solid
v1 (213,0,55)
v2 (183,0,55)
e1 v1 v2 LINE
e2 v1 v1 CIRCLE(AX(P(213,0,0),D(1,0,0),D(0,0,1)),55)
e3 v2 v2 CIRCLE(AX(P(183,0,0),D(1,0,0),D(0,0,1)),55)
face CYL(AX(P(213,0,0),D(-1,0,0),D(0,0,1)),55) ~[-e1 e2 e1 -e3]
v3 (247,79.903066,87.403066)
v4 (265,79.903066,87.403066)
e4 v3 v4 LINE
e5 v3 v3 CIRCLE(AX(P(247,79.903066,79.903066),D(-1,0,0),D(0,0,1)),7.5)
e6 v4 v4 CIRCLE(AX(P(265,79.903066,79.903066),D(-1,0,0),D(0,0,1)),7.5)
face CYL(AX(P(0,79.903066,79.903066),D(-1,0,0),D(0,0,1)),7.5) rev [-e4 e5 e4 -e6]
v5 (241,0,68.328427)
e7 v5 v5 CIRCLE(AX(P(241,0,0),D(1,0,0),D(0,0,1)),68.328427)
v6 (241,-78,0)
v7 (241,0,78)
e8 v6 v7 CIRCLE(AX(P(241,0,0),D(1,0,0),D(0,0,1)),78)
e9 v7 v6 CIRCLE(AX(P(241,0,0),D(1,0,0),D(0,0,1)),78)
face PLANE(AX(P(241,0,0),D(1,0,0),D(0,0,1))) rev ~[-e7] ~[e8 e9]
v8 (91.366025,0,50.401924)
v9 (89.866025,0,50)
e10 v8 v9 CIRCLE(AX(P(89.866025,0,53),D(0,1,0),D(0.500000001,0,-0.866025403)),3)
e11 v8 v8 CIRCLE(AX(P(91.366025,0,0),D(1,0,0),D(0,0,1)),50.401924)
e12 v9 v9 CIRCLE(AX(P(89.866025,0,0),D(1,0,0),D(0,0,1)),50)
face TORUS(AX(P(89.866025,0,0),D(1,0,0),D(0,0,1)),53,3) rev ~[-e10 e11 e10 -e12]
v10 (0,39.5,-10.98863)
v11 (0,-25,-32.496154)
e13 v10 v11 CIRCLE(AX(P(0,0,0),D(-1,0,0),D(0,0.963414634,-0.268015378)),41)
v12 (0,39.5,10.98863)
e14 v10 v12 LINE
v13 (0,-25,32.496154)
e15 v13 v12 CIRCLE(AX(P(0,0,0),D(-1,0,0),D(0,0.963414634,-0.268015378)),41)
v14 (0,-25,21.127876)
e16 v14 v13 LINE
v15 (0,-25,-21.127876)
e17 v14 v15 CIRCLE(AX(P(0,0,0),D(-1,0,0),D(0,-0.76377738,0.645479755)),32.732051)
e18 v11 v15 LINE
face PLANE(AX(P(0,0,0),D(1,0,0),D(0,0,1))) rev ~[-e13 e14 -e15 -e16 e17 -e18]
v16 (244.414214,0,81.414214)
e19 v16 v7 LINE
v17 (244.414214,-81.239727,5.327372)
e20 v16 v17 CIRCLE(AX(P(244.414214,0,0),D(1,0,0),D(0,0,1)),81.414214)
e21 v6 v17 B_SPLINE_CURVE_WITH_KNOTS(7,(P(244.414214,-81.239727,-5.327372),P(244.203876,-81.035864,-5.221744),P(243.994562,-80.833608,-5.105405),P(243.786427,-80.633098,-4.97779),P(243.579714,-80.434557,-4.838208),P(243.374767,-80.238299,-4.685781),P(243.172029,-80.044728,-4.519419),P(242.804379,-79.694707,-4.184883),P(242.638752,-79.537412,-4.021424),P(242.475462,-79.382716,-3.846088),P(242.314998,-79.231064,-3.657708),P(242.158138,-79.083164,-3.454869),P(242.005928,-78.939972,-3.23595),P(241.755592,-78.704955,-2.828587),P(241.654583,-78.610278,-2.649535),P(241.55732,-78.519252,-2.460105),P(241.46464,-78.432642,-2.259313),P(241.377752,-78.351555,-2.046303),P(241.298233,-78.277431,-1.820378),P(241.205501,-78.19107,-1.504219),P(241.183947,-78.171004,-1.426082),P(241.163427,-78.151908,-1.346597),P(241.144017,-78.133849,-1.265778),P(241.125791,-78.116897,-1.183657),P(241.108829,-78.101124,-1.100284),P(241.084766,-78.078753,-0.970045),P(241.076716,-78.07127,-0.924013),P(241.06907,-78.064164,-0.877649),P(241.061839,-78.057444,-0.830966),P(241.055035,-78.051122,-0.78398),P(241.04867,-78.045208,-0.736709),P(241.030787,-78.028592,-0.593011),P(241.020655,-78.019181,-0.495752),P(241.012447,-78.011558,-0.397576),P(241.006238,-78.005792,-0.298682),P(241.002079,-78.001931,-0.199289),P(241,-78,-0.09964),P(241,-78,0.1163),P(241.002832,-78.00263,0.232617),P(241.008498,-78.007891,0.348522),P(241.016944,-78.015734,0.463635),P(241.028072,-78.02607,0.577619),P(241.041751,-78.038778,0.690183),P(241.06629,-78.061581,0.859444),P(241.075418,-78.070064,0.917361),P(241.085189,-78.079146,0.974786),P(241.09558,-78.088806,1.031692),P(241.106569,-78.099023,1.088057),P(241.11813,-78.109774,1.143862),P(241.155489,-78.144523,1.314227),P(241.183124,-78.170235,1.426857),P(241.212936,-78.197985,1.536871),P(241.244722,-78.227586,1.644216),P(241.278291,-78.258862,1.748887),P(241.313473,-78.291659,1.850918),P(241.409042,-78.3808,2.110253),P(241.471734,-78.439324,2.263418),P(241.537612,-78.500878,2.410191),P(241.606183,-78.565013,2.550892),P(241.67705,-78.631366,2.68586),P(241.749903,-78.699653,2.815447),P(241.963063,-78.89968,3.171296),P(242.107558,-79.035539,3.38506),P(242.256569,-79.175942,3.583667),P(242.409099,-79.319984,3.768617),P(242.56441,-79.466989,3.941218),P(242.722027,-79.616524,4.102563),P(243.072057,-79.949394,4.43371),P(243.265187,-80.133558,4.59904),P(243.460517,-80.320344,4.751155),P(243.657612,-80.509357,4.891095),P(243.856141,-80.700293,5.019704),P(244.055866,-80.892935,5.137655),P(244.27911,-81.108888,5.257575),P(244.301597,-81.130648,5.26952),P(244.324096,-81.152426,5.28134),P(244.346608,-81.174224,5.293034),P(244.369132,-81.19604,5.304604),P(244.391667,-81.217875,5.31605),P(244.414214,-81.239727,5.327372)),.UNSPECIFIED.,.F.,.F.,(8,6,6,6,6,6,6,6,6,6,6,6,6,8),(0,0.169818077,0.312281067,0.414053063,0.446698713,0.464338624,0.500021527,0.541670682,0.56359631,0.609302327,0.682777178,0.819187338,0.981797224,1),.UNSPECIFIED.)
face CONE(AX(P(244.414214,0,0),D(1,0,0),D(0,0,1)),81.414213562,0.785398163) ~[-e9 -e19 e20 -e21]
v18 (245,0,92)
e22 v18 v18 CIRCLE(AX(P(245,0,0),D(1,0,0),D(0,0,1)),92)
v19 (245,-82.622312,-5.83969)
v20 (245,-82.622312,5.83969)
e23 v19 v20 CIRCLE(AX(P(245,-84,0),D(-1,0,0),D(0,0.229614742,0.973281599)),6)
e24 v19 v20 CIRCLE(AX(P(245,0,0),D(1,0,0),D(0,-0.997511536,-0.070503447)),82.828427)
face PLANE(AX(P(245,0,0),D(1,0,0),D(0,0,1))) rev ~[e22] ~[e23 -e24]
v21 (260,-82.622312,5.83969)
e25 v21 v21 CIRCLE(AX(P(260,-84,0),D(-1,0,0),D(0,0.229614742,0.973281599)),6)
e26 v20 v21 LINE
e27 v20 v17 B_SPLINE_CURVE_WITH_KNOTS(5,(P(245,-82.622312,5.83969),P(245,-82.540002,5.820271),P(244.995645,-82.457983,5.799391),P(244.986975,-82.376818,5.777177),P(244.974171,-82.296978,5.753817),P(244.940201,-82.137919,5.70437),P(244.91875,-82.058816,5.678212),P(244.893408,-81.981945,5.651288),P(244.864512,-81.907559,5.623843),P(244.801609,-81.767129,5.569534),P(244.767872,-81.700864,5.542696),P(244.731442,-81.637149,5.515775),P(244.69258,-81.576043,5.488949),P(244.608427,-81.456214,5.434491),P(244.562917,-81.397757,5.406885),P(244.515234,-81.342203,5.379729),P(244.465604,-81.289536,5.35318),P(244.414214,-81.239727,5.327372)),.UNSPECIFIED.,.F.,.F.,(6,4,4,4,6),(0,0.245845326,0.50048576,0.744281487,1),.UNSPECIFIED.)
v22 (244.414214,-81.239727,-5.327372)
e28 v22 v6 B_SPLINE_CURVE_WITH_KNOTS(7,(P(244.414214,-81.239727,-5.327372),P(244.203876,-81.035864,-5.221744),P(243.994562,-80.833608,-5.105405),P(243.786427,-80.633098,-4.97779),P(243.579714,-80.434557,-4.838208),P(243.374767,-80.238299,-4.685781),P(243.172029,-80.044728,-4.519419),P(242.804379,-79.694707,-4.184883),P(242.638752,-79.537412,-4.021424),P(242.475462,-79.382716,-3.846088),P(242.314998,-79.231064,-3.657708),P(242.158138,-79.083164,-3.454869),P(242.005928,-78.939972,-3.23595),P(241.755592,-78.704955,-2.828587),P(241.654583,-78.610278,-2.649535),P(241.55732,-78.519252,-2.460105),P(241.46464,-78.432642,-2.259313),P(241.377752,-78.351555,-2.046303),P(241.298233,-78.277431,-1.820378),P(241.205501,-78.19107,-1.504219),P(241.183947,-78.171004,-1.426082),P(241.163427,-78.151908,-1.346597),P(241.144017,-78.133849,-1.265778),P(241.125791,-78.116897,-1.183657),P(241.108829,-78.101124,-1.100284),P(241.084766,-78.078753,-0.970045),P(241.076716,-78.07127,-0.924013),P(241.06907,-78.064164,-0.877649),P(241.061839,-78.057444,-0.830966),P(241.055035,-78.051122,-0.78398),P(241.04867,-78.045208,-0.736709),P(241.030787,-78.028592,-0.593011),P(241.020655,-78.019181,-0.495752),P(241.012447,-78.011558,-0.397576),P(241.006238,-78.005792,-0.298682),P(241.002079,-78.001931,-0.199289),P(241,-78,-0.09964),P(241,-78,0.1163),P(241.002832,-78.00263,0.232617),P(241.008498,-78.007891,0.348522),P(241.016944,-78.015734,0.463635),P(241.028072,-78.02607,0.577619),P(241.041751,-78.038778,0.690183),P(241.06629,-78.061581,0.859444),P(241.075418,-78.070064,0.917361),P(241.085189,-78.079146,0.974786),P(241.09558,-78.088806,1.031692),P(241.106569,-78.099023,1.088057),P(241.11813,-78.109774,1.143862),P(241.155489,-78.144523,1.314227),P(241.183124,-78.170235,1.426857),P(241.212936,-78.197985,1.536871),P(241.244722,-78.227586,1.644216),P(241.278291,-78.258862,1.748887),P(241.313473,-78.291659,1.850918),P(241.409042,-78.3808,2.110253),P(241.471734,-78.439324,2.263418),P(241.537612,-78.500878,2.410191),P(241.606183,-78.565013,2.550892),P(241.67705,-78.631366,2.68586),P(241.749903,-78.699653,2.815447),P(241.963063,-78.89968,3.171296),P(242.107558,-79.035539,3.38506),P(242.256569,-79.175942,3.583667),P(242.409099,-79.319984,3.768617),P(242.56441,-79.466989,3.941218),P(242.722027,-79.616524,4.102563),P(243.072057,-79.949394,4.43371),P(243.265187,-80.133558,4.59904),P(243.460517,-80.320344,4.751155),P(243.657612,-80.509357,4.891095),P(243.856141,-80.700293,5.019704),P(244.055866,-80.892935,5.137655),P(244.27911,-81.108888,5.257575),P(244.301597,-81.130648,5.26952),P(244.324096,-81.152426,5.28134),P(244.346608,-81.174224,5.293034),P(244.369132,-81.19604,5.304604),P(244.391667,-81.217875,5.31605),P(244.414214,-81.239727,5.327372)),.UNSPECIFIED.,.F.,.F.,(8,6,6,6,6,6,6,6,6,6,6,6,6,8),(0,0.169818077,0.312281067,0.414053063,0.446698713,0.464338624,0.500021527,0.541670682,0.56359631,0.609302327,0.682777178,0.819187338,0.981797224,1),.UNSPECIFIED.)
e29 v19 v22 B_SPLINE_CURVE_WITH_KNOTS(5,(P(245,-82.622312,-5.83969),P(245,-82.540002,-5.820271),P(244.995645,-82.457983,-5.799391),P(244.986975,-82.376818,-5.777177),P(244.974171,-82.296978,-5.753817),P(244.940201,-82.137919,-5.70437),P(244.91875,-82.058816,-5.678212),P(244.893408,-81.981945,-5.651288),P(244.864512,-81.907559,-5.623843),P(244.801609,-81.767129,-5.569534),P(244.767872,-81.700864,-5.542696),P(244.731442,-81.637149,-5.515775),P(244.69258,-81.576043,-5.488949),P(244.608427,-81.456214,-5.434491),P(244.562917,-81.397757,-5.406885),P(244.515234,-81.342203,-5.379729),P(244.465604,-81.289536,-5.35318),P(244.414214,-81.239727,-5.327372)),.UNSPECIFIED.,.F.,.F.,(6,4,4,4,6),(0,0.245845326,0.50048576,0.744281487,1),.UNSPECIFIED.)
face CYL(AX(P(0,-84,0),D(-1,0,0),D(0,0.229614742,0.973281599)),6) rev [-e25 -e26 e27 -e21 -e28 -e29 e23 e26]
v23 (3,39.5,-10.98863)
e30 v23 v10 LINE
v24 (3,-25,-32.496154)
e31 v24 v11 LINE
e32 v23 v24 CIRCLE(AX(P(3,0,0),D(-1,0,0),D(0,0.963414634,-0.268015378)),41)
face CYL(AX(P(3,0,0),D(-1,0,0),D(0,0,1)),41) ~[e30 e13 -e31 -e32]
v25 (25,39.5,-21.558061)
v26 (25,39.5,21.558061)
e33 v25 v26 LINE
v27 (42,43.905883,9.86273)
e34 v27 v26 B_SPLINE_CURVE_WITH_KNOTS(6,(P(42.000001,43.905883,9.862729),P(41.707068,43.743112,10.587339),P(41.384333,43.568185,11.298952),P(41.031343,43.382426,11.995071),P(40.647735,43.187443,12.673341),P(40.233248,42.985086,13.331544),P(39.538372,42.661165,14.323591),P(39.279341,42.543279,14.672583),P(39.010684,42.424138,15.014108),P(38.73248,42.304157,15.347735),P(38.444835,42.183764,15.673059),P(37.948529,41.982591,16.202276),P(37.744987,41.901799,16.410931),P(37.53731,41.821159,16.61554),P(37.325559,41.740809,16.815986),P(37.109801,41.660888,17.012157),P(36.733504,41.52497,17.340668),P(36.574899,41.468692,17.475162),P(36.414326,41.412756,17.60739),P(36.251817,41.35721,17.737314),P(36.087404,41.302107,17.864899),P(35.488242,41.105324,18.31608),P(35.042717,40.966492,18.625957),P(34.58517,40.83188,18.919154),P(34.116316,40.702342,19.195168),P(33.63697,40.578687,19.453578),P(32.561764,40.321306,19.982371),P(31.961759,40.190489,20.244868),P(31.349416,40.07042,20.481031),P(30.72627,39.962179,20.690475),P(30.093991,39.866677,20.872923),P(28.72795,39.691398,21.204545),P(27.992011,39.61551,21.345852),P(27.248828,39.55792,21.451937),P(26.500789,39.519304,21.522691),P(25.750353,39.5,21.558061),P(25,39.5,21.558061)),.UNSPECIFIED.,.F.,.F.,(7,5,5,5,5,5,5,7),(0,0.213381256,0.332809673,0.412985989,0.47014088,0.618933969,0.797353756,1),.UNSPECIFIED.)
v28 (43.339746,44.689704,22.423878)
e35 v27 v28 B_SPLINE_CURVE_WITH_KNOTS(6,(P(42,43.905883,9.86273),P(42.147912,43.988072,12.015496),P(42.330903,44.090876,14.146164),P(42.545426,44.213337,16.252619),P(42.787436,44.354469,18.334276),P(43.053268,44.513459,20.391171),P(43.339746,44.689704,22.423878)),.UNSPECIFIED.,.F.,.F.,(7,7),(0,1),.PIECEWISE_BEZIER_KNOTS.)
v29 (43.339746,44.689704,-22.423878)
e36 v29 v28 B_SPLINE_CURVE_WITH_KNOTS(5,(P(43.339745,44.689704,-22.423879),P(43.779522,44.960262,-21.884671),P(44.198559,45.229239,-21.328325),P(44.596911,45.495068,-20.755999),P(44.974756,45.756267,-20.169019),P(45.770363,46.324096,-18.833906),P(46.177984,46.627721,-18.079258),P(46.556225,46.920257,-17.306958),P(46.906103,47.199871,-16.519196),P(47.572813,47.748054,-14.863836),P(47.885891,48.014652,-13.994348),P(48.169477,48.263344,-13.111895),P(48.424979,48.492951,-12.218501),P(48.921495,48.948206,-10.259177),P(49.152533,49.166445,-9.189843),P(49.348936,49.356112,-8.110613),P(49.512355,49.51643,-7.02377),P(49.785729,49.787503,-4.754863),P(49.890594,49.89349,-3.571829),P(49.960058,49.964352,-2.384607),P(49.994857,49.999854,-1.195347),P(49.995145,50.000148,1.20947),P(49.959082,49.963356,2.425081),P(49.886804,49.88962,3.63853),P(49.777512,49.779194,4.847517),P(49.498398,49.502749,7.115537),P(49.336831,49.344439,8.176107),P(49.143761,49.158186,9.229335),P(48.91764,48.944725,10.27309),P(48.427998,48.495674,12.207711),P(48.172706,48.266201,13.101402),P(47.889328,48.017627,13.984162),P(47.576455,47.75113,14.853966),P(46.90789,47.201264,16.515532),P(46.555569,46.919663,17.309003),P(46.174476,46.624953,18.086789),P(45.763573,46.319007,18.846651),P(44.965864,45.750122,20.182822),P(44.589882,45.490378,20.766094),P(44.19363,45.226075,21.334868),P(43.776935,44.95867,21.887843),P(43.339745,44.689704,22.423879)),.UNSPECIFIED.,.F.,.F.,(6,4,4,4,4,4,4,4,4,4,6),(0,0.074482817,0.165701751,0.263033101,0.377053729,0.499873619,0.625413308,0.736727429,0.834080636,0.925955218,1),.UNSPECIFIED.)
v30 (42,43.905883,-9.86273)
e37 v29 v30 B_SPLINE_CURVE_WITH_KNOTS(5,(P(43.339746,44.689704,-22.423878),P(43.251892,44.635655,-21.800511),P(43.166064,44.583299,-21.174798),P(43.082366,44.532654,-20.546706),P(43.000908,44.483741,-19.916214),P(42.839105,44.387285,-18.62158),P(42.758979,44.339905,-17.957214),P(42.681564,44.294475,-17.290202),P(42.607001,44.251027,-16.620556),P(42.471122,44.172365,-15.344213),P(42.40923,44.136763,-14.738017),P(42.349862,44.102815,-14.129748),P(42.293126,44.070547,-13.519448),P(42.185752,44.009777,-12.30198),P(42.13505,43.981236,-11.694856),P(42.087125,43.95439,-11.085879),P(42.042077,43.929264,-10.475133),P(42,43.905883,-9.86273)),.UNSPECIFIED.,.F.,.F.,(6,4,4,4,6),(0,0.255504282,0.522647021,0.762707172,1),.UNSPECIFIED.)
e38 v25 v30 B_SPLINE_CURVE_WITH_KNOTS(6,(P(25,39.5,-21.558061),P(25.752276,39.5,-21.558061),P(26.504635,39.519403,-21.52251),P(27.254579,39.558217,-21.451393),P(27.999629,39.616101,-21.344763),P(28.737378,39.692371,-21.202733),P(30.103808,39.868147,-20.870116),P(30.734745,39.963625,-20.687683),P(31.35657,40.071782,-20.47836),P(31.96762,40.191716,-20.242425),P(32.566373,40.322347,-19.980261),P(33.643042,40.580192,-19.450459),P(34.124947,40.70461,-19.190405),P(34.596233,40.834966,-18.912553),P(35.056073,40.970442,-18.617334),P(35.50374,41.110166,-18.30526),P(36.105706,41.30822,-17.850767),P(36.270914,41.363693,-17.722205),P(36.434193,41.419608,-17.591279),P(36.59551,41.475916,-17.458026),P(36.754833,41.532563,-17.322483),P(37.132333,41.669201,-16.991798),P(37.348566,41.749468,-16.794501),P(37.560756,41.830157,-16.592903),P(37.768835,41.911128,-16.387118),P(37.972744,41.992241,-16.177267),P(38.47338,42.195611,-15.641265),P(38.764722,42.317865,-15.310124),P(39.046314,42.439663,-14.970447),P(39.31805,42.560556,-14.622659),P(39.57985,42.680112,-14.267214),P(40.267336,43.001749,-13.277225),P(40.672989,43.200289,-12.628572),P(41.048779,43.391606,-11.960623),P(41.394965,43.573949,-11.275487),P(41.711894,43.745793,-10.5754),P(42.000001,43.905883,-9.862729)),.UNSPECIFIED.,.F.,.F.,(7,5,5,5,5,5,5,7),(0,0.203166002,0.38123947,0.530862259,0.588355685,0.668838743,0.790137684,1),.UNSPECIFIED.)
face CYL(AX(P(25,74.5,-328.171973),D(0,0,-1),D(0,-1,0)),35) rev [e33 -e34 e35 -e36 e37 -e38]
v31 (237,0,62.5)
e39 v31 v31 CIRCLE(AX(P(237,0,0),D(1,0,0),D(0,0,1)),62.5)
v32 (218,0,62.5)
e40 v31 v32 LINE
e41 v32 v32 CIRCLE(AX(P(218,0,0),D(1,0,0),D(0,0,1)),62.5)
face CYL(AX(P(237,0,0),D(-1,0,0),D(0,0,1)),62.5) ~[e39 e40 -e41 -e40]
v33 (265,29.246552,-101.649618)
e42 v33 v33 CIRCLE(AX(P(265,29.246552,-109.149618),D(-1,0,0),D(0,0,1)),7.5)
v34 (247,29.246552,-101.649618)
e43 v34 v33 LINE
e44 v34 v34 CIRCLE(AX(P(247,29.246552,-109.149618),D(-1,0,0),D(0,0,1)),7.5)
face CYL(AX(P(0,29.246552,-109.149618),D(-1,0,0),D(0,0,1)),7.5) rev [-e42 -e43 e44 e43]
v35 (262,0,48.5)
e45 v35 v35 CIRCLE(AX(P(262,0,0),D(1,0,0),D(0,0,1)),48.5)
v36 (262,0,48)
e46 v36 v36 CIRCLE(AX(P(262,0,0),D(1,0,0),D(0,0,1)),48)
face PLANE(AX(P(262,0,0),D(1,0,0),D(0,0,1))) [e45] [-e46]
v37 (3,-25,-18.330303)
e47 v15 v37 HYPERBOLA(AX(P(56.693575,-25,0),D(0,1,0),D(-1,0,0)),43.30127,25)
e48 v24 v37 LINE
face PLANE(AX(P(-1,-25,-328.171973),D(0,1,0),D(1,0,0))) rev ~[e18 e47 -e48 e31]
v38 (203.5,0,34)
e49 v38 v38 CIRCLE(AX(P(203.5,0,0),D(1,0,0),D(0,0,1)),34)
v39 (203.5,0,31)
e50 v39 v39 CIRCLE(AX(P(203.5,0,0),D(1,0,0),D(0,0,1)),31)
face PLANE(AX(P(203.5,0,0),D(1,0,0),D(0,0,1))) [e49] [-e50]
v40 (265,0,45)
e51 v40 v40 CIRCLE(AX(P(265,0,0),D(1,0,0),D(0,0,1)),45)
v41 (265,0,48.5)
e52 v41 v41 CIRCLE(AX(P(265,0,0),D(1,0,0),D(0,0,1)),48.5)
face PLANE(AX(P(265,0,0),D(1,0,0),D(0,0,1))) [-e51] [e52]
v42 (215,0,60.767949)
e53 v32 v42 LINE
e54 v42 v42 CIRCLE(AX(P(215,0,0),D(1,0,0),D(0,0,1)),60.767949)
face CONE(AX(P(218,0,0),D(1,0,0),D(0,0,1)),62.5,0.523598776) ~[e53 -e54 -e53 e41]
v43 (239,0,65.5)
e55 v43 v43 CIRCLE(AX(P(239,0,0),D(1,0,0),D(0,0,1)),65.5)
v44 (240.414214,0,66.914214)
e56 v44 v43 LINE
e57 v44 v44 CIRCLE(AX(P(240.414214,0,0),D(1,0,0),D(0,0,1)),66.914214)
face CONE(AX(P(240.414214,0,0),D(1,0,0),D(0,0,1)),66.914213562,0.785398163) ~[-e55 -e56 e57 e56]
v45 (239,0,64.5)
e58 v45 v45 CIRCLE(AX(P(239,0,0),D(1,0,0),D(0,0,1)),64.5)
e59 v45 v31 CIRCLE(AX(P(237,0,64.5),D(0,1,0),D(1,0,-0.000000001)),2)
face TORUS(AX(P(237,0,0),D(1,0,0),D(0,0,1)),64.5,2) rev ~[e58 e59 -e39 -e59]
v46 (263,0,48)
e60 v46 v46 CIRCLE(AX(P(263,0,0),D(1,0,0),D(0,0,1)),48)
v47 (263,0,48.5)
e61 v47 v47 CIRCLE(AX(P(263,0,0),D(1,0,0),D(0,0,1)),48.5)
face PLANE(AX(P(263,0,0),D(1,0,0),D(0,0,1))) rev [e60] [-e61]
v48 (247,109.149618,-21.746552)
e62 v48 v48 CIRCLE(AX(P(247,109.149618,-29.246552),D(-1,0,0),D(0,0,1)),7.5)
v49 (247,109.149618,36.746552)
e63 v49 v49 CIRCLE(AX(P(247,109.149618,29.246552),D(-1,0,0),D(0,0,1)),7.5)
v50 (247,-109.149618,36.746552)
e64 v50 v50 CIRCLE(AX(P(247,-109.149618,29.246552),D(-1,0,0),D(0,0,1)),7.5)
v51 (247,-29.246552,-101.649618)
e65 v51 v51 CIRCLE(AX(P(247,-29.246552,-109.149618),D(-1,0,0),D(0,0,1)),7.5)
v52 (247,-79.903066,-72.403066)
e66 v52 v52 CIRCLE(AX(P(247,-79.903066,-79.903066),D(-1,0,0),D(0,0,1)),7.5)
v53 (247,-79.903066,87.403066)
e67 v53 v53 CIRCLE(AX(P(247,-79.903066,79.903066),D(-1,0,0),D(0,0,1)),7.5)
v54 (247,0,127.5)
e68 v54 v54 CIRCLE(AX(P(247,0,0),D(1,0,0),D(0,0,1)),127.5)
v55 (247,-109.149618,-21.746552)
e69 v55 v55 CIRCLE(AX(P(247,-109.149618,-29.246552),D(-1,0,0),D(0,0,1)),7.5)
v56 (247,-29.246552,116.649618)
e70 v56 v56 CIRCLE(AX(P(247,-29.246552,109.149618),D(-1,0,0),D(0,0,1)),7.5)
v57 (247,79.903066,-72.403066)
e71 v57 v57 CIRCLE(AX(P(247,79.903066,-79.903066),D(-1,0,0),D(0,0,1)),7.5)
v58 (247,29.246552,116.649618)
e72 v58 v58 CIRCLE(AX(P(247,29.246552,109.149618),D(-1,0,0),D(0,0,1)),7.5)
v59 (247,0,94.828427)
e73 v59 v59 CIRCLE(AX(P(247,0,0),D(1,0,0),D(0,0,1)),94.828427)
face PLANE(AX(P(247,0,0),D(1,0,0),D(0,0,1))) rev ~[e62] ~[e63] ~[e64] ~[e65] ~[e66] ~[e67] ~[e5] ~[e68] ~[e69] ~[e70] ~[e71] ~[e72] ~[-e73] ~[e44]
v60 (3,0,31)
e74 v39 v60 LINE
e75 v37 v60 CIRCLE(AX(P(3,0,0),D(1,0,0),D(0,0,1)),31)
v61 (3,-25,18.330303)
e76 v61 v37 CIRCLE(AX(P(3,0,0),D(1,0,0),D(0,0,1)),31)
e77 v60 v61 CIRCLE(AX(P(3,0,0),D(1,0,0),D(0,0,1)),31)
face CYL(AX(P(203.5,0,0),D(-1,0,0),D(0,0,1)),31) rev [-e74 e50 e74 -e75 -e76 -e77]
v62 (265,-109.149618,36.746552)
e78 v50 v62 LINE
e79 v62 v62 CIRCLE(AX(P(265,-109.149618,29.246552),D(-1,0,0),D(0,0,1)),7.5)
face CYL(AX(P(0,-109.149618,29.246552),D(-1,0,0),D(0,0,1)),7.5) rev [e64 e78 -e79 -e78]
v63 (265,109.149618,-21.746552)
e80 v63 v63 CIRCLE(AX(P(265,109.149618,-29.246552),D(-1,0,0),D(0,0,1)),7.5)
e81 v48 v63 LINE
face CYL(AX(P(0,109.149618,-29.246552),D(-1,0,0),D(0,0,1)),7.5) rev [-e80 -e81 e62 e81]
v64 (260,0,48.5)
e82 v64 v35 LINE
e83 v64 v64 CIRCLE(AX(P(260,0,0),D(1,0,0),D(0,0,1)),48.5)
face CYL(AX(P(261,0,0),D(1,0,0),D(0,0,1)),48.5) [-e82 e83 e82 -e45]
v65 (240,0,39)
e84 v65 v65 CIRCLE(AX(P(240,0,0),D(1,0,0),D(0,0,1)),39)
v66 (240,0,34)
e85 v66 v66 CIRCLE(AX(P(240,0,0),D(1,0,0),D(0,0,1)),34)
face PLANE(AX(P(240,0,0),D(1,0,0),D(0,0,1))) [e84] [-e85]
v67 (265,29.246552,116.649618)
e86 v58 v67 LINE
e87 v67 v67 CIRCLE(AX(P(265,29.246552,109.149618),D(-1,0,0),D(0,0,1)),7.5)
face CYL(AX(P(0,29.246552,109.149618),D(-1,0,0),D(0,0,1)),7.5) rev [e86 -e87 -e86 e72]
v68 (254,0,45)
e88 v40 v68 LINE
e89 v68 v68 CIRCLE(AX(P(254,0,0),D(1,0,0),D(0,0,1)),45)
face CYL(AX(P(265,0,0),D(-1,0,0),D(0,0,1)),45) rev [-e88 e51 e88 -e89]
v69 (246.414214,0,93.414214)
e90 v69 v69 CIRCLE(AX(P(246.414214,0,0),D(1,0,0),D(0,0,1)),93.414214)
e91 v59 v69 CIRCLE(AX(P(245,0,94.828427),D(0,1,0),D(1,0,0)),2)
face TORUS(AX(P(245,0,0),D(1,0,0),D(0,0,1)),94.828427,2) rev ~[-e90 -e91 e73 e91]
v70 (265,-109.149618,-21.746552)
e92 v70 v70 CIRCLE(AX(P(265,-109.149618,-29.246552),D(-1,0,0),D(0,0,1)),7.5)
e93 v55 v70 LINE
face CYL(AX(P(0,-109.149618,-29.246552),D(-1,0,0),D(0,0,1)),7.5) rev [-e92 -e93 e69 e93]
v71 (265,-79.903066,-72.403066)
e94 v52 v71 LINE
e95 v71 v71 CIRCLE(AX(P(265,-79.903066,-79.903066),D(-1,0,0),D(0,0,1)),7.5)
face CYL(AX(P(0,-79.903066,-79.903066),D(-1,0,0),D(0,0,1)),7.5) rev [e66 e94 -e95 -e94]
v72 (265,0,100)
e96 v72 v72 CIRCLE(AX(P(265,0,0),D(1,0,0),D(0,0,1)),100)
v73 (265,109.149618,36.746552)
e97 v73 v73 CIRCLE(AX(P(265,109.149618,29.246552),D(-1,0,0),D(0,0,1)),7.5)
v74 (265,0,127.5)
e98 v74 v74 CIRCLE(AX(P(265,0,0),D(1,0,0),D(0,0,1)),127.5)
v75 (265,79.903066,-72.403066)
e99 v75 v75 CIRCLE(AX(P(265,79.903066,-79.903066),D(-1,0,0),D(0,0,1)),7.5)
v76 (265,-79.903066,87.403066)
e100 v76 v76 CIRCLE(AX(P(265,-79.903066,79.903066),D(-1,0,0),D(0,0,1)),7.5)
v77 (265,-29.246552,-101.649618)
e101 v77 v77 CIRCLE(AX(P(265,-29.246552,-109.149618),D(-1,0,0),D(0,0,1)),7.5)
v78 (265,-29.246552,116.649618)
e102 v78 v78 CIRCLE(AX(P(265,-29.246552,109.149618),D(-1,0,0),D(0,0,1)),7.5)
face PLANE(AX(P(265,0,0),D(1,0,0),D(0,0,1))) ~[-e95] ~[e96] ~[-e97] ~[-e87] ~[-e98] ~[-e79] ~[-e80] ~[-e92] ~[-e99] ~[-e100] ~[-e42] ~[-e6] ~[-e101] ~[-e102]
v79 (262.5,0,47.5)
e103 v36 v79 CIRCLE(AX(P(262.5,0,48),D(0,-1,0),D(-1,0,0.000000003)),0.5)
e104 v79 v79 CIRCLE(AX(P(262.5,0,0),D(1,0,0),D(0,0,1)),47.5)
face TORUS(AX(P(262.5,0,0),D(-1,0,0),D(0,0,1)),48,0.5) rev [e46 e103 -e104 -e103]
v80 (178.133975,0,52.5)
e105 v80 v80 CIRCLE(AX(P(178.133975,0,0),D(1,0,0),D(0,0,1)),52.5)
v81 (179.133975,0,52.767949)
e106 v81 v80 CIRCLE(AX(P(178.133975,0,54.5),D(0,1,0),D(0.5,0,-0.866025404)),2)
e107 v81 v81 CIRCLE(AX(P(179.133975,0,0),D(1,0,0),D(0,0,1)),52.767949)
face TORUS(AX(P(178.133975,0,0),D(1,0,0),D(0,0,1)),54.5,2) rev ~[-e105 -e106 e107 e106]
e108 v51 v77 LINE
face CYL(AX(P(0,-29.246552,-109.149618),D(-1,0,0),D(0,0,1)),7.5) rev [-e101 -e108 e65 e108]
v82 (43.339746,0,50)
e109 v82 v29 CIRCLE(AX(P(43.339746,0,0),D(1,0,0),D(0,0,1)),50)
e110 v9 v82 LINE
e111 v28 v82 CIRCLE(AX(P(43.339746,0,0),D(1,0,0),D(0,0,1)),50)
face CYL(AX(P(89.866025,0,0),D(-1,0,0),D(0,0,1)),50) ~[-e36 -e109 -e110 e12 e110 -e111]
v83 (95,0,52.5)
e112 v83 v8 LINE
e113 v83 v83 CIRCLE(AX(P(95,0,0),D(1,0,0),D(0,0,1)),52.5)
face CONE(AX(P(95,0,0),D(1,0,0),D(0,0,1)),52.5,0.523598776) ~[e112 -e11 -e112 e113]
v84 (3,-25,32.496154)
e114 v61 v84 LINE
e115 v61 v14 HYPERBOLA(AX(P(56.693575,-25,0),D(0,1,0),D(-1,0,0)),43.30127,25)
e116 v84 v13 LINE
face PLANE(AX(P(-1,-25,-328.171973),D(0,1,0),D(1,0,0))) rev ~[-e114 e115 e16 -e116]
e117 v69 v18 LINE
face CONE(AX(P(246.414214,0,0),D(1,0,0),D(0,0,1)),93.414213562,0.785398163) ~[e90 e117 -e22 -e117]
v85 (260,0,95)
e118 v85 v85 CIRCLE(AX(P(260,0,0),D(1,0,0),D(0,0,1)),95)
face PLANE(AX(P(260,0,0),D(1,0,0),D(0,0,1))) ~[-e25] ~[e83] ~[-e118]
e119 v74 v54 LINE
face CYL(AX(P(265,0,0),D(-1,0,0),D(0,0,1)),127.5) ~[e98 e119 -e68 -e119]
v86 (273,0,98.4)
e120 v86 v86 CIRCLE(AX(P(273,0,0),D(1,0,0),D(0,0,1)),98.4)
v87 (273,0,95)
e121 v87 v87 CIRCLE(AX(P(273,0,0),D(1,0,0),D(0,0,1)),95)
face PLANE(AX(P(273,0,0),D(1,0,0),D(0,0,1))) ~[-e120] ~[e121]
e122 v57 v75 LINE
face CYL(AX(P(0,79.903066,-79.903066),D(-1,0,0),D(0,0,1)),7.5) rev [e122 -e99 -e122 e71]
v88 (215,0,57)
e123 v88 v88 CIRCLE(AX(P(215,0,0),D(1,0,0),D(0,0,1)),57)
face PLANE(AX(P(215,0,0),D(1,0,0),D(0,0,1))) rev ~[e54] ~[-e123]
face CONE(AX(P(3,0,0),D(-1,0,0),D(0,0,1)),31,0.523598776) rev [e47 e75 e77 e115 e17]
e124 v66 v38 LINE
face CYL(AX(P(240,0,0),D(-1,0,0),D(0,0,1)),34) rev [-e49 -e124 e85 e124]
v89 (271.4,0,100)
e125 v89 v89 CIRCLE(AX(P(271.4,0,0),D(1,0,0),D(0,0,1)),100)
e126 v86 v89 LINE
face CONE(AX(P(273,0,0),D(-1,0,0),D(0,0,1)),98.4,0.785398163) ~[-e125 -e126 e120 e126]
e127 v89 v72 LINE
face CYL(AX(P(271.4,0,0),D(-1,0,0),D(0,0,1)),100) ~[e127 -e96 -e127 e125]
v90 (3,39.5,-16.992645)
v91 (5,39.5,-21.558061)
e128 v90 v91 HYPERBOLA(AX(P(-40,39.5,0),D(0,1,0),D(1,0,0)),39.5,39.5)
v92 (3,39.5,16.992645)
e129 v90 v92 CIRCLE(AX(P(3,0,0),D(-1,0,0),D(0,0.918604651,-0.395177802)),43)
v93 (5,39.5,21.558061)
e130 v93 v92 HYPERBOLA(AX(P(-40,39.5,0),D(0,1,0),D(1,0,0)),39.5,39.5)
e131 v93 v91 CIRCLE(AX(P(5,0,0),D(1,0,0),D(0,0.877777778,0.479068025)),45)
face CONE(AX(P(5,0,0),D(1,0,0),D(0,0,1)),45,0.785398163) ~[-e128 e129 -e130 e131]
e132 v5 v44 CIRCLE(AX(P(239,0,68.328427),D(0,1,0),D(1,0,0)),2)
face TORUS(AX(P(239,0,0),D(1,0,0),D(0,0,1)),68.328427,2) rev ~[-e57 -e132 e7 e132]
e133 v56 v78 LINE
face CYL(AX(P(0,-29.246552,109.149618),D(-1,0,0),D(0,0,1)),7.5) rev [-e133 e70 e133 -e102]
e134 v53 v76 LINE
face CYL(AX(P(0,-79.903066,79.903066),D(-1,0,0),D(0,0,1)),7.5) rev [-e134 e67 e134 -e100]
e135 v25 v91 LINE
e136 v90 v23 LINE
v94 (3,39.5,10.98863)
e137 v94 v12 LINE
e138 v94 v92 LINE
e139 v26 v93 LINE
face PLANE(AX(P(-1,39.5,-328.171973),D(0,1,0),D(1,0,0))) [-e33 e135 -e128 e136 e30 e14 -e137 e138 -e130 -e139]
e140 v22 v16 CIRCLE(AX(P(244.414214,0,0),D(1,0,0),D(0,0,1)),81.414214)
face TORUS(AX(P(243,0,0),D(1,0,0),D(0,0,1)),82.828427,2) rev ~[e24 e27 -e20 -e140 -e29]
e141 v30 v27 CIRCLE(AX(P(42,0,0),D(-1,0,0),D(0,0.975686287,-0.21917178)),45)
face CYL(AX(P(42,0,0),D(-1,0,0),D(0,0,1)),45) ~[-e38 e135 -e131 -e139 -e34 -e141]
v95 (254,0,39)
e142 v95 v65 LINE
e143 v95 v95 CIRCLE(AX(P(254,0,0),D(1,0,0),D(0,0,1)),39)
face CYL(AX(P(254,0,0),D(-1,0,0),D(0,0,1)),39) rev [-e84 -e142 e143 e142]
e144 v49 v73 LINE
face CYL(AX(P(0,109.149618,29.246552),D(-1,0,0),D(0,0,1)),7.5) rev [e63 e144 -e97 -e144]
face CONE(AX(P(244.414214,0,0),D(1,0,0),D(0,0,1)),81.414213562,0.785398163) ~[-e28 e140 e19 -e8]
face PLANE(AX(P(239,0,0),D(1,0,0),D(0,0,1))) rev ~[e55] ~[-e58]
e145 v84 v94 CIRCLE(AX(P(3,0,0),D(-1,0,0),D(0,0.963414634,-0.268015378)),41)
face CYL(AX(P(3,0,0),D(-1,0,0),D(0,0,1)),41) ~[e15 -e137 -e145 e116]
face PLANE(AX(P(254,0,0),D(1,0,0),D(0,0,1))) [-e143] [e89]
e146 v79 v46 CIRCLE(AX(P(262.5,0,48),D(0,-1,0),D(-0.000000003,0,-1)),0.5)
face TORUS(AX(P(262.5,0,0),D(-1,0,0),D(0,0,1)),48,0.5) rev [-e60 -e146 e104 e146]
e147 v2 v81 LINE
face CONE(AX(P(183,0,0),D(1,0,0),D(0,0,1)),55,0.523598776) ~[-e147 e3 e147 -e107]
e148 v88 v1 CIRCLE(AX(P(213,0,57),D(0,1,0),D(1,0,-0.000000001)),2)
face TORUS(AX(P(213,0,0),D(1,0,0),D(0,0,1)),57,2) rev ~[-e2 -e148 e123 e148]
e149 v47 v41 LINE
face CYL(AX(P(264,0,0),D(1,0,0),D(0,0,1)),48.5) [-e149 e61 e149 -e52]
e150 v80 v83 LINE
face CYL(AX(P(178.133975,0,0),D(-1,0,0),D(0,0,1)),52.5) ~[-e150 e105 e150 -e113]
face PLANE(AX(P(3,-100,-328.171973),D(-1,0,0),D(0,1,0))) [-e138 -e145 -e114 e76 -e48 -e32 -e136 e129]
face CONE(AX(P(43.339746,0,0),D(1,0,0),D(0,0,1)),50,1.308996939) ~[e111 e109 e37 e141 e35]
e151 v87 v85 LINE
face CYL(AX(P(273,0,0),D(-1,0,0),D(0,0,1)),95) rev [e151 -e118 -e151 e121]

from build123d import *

# Parameters (mm, degrees)
SKETCH_3_W                    = 2
SKETCH_3_H                    = 46.5
SKETCH_5_W                    = 2
SKETCH_5_H                    = 46.5
SKETCH_6_R                    = 7.5
CUT_EXTRUDE_1_DEPTH           = 328.171973127
SKETCH_7_R                    = 7.5
CUT_EXTRUDE_2_DEPTH           = 328.171973127
SKETCH_8_R                    = 7.5
CUT_EXTRUDE_3_DEPTH           = 328.171973127
SKETCH_9_R                    = 7.5
CUT_EXTRUDE_4_DEPTH           = 328.171973127
SKETCH_10_R                   = 7.5
CUT_EXTRUDE_5_DEPTH           = 328.171973127
SKETCH_11_R                   = 7.5
CUT_EXTRUDE_6_DEPTH           = 328.171973127
SKETCH_12_R                   = 7.5
CUT_EXTRUDE_7_DEPTH           = 328.171973127
SKETCH_13_R                   = 7.5
CUT_EXTRUDE_8_DEPTH           = 328.171973127
SKETCH_14_R                   = 7.5
CUT_EXTRUDE_9_DEPTH           = 328.171973127
SKETCH_15_R                   = 7.5
CUT_EXTRUDE_10_DEPTH          = 328.171973127
SKETCH_16_R                   = 7.5
CUT_EXTRUDE_11_DEPTH          = 328.171973127
SKETCH_17_R                   = 7.5
CUT_EXTRUDE_12_DEPTH          = 328.171973127
SKETCH_18_R                   = 6
CUT_EXTRUDE_13_DEPTH          = 328.171973127
LEFT_FLAT_84_5_R35_DEPTH      = 328.171973127
LEFT_FLAT_84_5_R35_DEPTH_BACK = 328.171973127
LEFT_END_BOTTOM_20_DEPTH      = 328.171973127
LEFT_END_BOTTOM_20_DEPTH_BACK = 328.171973127
SKETCH_20_W                   = 4
SKETCH_20_H                   = 75


with BuildPart() as part:
    # Эскиз1 → Повернуть1 (revolve)
    with BuildSketch(Plane.XY, mode=Mode.PRIVATE) as revolve_1_sk:
        with BuildLine():
            Line((0, 0), (273, 0))
            Line((273, 0), (273, 98.4))
            Line((273, 98.4), (271.4, 100))
            Line((271.4, 100), (265, 100))
            Line((265, 100), (265, 127.5))
            Line((265, 127.5), (247, 127.5))
            Line((247, 127.5), (247, 94.828427125))
            ThreePointArc((247, 94.828427125), (246.847759065, 94.06306026), (246.414213562, 93.414213562))
            Line((246.414213562, 93.414213562), (245, 92))
            Line((245, 92), (245, 82.828427125))
            ThreePointArc((245, 82.828427125), (244.847759065, 82.06306026), (244.414213562, 81.414213562))
            Line((244.414213562, 81.414213562), (241, 78))
            Line((241, 78), (241, 68.328427125))
            ThreePointArc((241, 68.328427125), (240.847759065, 67.56306026), (240.414213562, 66.914213562))
            Line((240.414213562, 66.914213562), (239, 65.5))
            Line((239, 65.5), (239, 64.5))
            ThreePointArc((239, 64.5), (238.414213562, 63.085786438), (237, 62.5))
            Line((237, 62.5), (218, 62.5))
            Line((218, 62.5), (215, 60.767949192))
            Line((215, 60.767949192), (215, 57))
            ThreePointArc((215, 57), (214.414213562, 55.585786438), (213, 55))
            Line((213, 55), (183, 55))
            Line((183, 55), (179.133974596, 52.767949192))
            ThreePointArc((179.133974596, 52.767949192), (178.651612686, 52.568148347), (178.133974596, 52.5))
            Line((178.133974596, 52.5), (95, 52.5))
            Line((95, 52.5), (91.366025404, 50.401923789))
            ThreePointArc((91.366025404, 50.401923789), (90.642482539, 50.102222521), (89.866025404, 50))
            Line((89.866025404, 50), (43.339745962, 50))
            Line((43.339745962, 50), (42, 45))
            Line((42, 45), (5, 45))
            Line((5, 45), (3, 43))
            Line((3, 43), (3, 41))
            Line((3, 41), (0, 41))
            Line((0, 41), (0, 0))
        make_face()
    revolve(revolve_1_sk.sketch.rotate(Axis((0, 0, 0), (1, 0, 0)), 90), axis=Axis((0, 0, 0), (1, 0, 0)))

    # Эскиз2 → Вырез-Повернуть1 (revolve, cut)
    with BuildSketch(Plane.XY, mode=Mode.PRIVATE) as cut_revolve_1_sk:
        Polygon((0, 0), (273, 0), (273, 95), (265, 95), (265, 45), (254, 45), (254, 39), (240, 39), (240, 34), (203.5, 34), (203.5, 31), (3, 31), (0, 32.732050808), align=None)
    revolve(cut_revolve_1_sk.sketch.rotate(Axis((0, 0, 0), (1, 0, 0)), 90), axis=Axis((0, 0, 0), (1, 0, 0)), mode=Mode.SUBTRACT)

    # Эскиз3 → Rear_recess_left (revolve, cut)
    with BuildSketch(Plane.XY, mode=Mode.PRIVATE) as rear_recess_left_sk:
        with Locations((261, 71.75)):
            Rectangle(SKETCH_3_W, SKETCH_3_H)
    revolve(rear_recess_left_sk.sketch.rotate(Axis((0, 0, 0), (1, 0, 0)), 90), axis=Axis((0, 0, 0), (1, 0, 0)), mode=Mode.SUBTRACT)

    # Эскиз4 → Collar_groove_nominal (revolve, cut)
    with BuildSketch(Plane.XY, mode=Mode.PRIVATE) as collar_groove_nominal_sk:
        with BuildLine():
            Line((263, 48), (263, 95))
            Line((263, 95), (262, 95))
            Line((262, 95), (262, 48))
            ThreePointArc((262, 48), (262.146446609, 47.646446609), (262.5, 47.5))
            ThreePointArc((262.5, 47.5), (262.853553391, 47.646446609), (263, 48))
        make_face()
    revolve(collar_groove_nominal_sk.sketch.rotate(Axis((0, 0, 0), (1, 0, 0)), 90), axis=Axis((0, 0, 0), (1, 0, 0)), mode=Mode.SUBTRACT)

    # Эскиз5 → Rear_recess_lip (revolve, cut)
    with BuildSketch(Plane.XY, mode=Mode.PRIVATE) as rear_recess_lip_sk:
        with Locations((264, 71.75)):
            Rectangle(SKETCH_5_W, SKETCH_5_H)
    revolve(rear_recess_lip_sk.sketch.rotate(Axis((0, 0, 0), (1, 0, 0)), 90), axis=Axis((0, 0, 0), (1, 0, 0)), mode=Mode.SUBTRACT)

    # Эскиз6 → Вырез-Вытянуть1 (cut, through all)
    with BuildSketch(Plane(origin=(0, 0, 0), x_dir=(0, 0, -1), z_dir=(1, 0, 0))):
        with Locations(Location((109.149618371, 29.246552097, 0), (0, 0, 180))):
            Circle(SKETCH_6_R)
    extrude(amount=CUT_EXTRUDE_1_DEPTH, mode=Mode.SUBTRACT)

    # Эскиз7 → Вырез-Вытянуть2 (cut, through all)
    with BuildSketch(Plane(origin=(0, 0, 0), x_dir=(0, 0, -1), z_dir=(1, 0, 0))):
        with Locations(Location((79.903066274, 79.903066274, 0), (0, 0, 180))):
            Circle(SKETCH_7_R)
    extrude(amount=CUT_EXTRUDE_2_DEPTH, mode=Mode.SUBTRACT)

    # Эскиз8 → Вырез-Вытянуть3 (cut, through all)
    with BuildSketch(Plane(origin=(0, 0, 0), x_dir=(0, 0, -1), z_dir=(1, 0, 0))):
        with Locations(Location((29.246552097, 109.149618371, 0), (0, 0, 180))):
            Circle(SKETCH_8_R)
    extrude(amount=CUT_EXTRUDE_3_DEPTH, mode=Mode.SUBTRACT)

    # Эскиз9 → Вырез-Вытянуть4 (cut, through all)
    with BuildSketch(Plane(origin=(0, 0, 0), x_dir=(0, 0, -1), z_dir=(1, 0, 0))):
        with Locations(Location((-29.246552097, 109.149618371, 0), (0, 0, 180))):
            Circle(SKETCH_9_R)
    extrude(amount=CUT_EXTRUDE_4_DEPTH, mode=Mode.SUBTRACT)

    # Эскиз10 → Вырез-Вытянуть5 (cut, through all)
    with BuildSketch(Plane(origin=(0, 0, 0), x_dir=(0, 0, -1), z_dir=(1, 0, 0))):
        with Locations(Location((-79.903066274, 79.903066274, 0), (0, 0, 180))):
            Circle(SKETCH_10_R)
    extrude(amount=CUT_EXTRUDE_5_DEPTH, mode=Mode.SUBTRACT)

    # Эскиз11 → Вырез-Вытянуть6 (cut, through all)
    with BuildSketch(Plane(origin=(0, 0, 0), x_dir=(0, 0, -1), z_dir=(1, 0, 0))):
        with Locations(Location((-109.149618371, 29.246552097, 0), (0, 0, 180))):
            Circle(SKETCH_11_R)
    extrude(amount=CUT_EXTRUDE_6_DEPTH, mode=Mode.SUBTRACT)

    # Эскиз12 → Вырез-Вытянуть7 (cut, through all)
    with BuildSketch(Plane(origin=(0, 0, 0), x_dir=(0, 0, -1), z_dir=(1, 0, 0))):
        with Locations(Location((-109.149618371, -29.246552097, 0), (0, 0, 180))):
            Circle(SKETCH_12_R)
    extrude(amount=CUT_EXTRUDE_7_DEPTH, mode=Mode.SUBTRACT)

    # Эскиз13 → Вырез-Вытянуть8 (cut, through all)
    with BuildSketch(Plane(origin=(0, 0, 0), x_dir=(0, 0, -1), z_dir=(1, 0, 0))):
        with Locations(Location((-79.903066274, -79.903066274, 0), (0, 0, 180))):
            Circle(SKETCH_13_R)
    extrude(amount=CUT_EXTRUDE_8_DEPTH, mode=Mode.SUBTRACT)

    # Эскиз14 → Вырез-Вытянуть9 (cut, through all)
    with BuildSketch(Plane(origin=(0, 0, 0), x_dir=(0, 0, -1), z_dir=(1, 0, 0))):
        with Locations(Location((-29.246552097, -109.149618371, 0), (0, 0, 180))):
            Circle(SKETCH_14_R)
    extrude(amount=CUT_EXTRUDE_9_DEPTH, mode=Mode.SUBTRACT)

    # Эскиз15 → Вырез-Вытянуть10 (cut, through all)
    with BuildSketch(Plane(origin=(0, 0, 0), x_dir=(0, 0, -1), z_dir=(1, 0, 0))):
        with Locations(Location((29.246552097, -109.149618371, 0), (0, 0, 180))):
            Circle(SKETCH_15_R)
    extrude(amount=CUT_EXTRUDE_10_DEPTH, mode=Mode.SUBTRACT)

    # Эскиз16 → Вырез-Вытянуть11 (cut, through all)
    with BuildSketch(Plane(origin=(0, 0, 0), x_dir=(0, 0, -1), z_dir=(1, 0, 0))):
        with Locations(Location((79.903066274, -79.903066274, 0), (0, 0, 180))):
            Circle(SKETCH_16_R)
    extrude(amount=CUT_EXTRUDE_11_DEPTH, mode=Mode.SUBTRACT)

    # Эскиз17 → Вырез-Вытянуть12 (cut, through all)
    with BuildSketch(Plane(origin=(0, 0, 0), x_dir=(0, 0, -1), z_dir=(1, 0, 0))):
        with Locations(Location((109.149618371, -29.246552097, 0), (0, 0, 180))):
            Circle(SKETCH_17_R)
    extrude(amount=CUT_EXTRUDE_12_DEPTH, mode=Mode.SUBTRACT)

    # Эскиз18 → Вырез-Вытянуть13 (cut, through all)
    with BuildSketch(Plane(origin=(0, 0, 0), x_dir=(0, 0, -1), z_dir=(1, 0, 0))):
        with Locations(Location((0, -84, 0), (0, 0, 166.725608927))):
            Circle(SKETCH_18_R)
    extrude(amount=CUT_EXTRUDE_13_DEPTH, mode=Mode.SUBTRACT)

    # Эскиз19 → Left_flat_84_5_R35 (cut, two sides: drawn at the far end of the back side and taken through both)
    with BuildSketch(Plane.XY.offset(-LEFT_FLAT_84_5_R35_DEPTH_BACK)):
        with BuildLine():
            Line((-1, 39.5), (25, 39.5))
            ThreePointArc((25, 39.5), (49.748737342, 49.751262658), (60, 74.5))
            Line((60, 74.5), (60, 150))
            Line((60, 150), (-1, 150))
            Line((-1, 150), (-1, 39.5))
        make_face()
    extrude(amount=LEFT_FLAT_84_5_R35_DEPTH + LEFT_FLAT_84_5_R35_DEPTH_BACK, mode=Mode.SUBTRACT)

    # Эскиз20 → Left_end_bottom_20 (cut, two sides: drawn at the far end of the back side and taken through both)
    with BuildSketch(Plane.XY.offset(-LEFT_END_BOTTOM_20_DEPTH_BACK)):
        with Locations((1, -62.5)):
            Rectangle(SKETCH_20_W, SKETCH_20_H)
    extrude(amount=LEFT_END_BOTTOM_20_DEPTH + LEFT_END_BOTTOM_20_DEPTH_BACK, mode=Mode.SUBTRACT)


solid = part.part
